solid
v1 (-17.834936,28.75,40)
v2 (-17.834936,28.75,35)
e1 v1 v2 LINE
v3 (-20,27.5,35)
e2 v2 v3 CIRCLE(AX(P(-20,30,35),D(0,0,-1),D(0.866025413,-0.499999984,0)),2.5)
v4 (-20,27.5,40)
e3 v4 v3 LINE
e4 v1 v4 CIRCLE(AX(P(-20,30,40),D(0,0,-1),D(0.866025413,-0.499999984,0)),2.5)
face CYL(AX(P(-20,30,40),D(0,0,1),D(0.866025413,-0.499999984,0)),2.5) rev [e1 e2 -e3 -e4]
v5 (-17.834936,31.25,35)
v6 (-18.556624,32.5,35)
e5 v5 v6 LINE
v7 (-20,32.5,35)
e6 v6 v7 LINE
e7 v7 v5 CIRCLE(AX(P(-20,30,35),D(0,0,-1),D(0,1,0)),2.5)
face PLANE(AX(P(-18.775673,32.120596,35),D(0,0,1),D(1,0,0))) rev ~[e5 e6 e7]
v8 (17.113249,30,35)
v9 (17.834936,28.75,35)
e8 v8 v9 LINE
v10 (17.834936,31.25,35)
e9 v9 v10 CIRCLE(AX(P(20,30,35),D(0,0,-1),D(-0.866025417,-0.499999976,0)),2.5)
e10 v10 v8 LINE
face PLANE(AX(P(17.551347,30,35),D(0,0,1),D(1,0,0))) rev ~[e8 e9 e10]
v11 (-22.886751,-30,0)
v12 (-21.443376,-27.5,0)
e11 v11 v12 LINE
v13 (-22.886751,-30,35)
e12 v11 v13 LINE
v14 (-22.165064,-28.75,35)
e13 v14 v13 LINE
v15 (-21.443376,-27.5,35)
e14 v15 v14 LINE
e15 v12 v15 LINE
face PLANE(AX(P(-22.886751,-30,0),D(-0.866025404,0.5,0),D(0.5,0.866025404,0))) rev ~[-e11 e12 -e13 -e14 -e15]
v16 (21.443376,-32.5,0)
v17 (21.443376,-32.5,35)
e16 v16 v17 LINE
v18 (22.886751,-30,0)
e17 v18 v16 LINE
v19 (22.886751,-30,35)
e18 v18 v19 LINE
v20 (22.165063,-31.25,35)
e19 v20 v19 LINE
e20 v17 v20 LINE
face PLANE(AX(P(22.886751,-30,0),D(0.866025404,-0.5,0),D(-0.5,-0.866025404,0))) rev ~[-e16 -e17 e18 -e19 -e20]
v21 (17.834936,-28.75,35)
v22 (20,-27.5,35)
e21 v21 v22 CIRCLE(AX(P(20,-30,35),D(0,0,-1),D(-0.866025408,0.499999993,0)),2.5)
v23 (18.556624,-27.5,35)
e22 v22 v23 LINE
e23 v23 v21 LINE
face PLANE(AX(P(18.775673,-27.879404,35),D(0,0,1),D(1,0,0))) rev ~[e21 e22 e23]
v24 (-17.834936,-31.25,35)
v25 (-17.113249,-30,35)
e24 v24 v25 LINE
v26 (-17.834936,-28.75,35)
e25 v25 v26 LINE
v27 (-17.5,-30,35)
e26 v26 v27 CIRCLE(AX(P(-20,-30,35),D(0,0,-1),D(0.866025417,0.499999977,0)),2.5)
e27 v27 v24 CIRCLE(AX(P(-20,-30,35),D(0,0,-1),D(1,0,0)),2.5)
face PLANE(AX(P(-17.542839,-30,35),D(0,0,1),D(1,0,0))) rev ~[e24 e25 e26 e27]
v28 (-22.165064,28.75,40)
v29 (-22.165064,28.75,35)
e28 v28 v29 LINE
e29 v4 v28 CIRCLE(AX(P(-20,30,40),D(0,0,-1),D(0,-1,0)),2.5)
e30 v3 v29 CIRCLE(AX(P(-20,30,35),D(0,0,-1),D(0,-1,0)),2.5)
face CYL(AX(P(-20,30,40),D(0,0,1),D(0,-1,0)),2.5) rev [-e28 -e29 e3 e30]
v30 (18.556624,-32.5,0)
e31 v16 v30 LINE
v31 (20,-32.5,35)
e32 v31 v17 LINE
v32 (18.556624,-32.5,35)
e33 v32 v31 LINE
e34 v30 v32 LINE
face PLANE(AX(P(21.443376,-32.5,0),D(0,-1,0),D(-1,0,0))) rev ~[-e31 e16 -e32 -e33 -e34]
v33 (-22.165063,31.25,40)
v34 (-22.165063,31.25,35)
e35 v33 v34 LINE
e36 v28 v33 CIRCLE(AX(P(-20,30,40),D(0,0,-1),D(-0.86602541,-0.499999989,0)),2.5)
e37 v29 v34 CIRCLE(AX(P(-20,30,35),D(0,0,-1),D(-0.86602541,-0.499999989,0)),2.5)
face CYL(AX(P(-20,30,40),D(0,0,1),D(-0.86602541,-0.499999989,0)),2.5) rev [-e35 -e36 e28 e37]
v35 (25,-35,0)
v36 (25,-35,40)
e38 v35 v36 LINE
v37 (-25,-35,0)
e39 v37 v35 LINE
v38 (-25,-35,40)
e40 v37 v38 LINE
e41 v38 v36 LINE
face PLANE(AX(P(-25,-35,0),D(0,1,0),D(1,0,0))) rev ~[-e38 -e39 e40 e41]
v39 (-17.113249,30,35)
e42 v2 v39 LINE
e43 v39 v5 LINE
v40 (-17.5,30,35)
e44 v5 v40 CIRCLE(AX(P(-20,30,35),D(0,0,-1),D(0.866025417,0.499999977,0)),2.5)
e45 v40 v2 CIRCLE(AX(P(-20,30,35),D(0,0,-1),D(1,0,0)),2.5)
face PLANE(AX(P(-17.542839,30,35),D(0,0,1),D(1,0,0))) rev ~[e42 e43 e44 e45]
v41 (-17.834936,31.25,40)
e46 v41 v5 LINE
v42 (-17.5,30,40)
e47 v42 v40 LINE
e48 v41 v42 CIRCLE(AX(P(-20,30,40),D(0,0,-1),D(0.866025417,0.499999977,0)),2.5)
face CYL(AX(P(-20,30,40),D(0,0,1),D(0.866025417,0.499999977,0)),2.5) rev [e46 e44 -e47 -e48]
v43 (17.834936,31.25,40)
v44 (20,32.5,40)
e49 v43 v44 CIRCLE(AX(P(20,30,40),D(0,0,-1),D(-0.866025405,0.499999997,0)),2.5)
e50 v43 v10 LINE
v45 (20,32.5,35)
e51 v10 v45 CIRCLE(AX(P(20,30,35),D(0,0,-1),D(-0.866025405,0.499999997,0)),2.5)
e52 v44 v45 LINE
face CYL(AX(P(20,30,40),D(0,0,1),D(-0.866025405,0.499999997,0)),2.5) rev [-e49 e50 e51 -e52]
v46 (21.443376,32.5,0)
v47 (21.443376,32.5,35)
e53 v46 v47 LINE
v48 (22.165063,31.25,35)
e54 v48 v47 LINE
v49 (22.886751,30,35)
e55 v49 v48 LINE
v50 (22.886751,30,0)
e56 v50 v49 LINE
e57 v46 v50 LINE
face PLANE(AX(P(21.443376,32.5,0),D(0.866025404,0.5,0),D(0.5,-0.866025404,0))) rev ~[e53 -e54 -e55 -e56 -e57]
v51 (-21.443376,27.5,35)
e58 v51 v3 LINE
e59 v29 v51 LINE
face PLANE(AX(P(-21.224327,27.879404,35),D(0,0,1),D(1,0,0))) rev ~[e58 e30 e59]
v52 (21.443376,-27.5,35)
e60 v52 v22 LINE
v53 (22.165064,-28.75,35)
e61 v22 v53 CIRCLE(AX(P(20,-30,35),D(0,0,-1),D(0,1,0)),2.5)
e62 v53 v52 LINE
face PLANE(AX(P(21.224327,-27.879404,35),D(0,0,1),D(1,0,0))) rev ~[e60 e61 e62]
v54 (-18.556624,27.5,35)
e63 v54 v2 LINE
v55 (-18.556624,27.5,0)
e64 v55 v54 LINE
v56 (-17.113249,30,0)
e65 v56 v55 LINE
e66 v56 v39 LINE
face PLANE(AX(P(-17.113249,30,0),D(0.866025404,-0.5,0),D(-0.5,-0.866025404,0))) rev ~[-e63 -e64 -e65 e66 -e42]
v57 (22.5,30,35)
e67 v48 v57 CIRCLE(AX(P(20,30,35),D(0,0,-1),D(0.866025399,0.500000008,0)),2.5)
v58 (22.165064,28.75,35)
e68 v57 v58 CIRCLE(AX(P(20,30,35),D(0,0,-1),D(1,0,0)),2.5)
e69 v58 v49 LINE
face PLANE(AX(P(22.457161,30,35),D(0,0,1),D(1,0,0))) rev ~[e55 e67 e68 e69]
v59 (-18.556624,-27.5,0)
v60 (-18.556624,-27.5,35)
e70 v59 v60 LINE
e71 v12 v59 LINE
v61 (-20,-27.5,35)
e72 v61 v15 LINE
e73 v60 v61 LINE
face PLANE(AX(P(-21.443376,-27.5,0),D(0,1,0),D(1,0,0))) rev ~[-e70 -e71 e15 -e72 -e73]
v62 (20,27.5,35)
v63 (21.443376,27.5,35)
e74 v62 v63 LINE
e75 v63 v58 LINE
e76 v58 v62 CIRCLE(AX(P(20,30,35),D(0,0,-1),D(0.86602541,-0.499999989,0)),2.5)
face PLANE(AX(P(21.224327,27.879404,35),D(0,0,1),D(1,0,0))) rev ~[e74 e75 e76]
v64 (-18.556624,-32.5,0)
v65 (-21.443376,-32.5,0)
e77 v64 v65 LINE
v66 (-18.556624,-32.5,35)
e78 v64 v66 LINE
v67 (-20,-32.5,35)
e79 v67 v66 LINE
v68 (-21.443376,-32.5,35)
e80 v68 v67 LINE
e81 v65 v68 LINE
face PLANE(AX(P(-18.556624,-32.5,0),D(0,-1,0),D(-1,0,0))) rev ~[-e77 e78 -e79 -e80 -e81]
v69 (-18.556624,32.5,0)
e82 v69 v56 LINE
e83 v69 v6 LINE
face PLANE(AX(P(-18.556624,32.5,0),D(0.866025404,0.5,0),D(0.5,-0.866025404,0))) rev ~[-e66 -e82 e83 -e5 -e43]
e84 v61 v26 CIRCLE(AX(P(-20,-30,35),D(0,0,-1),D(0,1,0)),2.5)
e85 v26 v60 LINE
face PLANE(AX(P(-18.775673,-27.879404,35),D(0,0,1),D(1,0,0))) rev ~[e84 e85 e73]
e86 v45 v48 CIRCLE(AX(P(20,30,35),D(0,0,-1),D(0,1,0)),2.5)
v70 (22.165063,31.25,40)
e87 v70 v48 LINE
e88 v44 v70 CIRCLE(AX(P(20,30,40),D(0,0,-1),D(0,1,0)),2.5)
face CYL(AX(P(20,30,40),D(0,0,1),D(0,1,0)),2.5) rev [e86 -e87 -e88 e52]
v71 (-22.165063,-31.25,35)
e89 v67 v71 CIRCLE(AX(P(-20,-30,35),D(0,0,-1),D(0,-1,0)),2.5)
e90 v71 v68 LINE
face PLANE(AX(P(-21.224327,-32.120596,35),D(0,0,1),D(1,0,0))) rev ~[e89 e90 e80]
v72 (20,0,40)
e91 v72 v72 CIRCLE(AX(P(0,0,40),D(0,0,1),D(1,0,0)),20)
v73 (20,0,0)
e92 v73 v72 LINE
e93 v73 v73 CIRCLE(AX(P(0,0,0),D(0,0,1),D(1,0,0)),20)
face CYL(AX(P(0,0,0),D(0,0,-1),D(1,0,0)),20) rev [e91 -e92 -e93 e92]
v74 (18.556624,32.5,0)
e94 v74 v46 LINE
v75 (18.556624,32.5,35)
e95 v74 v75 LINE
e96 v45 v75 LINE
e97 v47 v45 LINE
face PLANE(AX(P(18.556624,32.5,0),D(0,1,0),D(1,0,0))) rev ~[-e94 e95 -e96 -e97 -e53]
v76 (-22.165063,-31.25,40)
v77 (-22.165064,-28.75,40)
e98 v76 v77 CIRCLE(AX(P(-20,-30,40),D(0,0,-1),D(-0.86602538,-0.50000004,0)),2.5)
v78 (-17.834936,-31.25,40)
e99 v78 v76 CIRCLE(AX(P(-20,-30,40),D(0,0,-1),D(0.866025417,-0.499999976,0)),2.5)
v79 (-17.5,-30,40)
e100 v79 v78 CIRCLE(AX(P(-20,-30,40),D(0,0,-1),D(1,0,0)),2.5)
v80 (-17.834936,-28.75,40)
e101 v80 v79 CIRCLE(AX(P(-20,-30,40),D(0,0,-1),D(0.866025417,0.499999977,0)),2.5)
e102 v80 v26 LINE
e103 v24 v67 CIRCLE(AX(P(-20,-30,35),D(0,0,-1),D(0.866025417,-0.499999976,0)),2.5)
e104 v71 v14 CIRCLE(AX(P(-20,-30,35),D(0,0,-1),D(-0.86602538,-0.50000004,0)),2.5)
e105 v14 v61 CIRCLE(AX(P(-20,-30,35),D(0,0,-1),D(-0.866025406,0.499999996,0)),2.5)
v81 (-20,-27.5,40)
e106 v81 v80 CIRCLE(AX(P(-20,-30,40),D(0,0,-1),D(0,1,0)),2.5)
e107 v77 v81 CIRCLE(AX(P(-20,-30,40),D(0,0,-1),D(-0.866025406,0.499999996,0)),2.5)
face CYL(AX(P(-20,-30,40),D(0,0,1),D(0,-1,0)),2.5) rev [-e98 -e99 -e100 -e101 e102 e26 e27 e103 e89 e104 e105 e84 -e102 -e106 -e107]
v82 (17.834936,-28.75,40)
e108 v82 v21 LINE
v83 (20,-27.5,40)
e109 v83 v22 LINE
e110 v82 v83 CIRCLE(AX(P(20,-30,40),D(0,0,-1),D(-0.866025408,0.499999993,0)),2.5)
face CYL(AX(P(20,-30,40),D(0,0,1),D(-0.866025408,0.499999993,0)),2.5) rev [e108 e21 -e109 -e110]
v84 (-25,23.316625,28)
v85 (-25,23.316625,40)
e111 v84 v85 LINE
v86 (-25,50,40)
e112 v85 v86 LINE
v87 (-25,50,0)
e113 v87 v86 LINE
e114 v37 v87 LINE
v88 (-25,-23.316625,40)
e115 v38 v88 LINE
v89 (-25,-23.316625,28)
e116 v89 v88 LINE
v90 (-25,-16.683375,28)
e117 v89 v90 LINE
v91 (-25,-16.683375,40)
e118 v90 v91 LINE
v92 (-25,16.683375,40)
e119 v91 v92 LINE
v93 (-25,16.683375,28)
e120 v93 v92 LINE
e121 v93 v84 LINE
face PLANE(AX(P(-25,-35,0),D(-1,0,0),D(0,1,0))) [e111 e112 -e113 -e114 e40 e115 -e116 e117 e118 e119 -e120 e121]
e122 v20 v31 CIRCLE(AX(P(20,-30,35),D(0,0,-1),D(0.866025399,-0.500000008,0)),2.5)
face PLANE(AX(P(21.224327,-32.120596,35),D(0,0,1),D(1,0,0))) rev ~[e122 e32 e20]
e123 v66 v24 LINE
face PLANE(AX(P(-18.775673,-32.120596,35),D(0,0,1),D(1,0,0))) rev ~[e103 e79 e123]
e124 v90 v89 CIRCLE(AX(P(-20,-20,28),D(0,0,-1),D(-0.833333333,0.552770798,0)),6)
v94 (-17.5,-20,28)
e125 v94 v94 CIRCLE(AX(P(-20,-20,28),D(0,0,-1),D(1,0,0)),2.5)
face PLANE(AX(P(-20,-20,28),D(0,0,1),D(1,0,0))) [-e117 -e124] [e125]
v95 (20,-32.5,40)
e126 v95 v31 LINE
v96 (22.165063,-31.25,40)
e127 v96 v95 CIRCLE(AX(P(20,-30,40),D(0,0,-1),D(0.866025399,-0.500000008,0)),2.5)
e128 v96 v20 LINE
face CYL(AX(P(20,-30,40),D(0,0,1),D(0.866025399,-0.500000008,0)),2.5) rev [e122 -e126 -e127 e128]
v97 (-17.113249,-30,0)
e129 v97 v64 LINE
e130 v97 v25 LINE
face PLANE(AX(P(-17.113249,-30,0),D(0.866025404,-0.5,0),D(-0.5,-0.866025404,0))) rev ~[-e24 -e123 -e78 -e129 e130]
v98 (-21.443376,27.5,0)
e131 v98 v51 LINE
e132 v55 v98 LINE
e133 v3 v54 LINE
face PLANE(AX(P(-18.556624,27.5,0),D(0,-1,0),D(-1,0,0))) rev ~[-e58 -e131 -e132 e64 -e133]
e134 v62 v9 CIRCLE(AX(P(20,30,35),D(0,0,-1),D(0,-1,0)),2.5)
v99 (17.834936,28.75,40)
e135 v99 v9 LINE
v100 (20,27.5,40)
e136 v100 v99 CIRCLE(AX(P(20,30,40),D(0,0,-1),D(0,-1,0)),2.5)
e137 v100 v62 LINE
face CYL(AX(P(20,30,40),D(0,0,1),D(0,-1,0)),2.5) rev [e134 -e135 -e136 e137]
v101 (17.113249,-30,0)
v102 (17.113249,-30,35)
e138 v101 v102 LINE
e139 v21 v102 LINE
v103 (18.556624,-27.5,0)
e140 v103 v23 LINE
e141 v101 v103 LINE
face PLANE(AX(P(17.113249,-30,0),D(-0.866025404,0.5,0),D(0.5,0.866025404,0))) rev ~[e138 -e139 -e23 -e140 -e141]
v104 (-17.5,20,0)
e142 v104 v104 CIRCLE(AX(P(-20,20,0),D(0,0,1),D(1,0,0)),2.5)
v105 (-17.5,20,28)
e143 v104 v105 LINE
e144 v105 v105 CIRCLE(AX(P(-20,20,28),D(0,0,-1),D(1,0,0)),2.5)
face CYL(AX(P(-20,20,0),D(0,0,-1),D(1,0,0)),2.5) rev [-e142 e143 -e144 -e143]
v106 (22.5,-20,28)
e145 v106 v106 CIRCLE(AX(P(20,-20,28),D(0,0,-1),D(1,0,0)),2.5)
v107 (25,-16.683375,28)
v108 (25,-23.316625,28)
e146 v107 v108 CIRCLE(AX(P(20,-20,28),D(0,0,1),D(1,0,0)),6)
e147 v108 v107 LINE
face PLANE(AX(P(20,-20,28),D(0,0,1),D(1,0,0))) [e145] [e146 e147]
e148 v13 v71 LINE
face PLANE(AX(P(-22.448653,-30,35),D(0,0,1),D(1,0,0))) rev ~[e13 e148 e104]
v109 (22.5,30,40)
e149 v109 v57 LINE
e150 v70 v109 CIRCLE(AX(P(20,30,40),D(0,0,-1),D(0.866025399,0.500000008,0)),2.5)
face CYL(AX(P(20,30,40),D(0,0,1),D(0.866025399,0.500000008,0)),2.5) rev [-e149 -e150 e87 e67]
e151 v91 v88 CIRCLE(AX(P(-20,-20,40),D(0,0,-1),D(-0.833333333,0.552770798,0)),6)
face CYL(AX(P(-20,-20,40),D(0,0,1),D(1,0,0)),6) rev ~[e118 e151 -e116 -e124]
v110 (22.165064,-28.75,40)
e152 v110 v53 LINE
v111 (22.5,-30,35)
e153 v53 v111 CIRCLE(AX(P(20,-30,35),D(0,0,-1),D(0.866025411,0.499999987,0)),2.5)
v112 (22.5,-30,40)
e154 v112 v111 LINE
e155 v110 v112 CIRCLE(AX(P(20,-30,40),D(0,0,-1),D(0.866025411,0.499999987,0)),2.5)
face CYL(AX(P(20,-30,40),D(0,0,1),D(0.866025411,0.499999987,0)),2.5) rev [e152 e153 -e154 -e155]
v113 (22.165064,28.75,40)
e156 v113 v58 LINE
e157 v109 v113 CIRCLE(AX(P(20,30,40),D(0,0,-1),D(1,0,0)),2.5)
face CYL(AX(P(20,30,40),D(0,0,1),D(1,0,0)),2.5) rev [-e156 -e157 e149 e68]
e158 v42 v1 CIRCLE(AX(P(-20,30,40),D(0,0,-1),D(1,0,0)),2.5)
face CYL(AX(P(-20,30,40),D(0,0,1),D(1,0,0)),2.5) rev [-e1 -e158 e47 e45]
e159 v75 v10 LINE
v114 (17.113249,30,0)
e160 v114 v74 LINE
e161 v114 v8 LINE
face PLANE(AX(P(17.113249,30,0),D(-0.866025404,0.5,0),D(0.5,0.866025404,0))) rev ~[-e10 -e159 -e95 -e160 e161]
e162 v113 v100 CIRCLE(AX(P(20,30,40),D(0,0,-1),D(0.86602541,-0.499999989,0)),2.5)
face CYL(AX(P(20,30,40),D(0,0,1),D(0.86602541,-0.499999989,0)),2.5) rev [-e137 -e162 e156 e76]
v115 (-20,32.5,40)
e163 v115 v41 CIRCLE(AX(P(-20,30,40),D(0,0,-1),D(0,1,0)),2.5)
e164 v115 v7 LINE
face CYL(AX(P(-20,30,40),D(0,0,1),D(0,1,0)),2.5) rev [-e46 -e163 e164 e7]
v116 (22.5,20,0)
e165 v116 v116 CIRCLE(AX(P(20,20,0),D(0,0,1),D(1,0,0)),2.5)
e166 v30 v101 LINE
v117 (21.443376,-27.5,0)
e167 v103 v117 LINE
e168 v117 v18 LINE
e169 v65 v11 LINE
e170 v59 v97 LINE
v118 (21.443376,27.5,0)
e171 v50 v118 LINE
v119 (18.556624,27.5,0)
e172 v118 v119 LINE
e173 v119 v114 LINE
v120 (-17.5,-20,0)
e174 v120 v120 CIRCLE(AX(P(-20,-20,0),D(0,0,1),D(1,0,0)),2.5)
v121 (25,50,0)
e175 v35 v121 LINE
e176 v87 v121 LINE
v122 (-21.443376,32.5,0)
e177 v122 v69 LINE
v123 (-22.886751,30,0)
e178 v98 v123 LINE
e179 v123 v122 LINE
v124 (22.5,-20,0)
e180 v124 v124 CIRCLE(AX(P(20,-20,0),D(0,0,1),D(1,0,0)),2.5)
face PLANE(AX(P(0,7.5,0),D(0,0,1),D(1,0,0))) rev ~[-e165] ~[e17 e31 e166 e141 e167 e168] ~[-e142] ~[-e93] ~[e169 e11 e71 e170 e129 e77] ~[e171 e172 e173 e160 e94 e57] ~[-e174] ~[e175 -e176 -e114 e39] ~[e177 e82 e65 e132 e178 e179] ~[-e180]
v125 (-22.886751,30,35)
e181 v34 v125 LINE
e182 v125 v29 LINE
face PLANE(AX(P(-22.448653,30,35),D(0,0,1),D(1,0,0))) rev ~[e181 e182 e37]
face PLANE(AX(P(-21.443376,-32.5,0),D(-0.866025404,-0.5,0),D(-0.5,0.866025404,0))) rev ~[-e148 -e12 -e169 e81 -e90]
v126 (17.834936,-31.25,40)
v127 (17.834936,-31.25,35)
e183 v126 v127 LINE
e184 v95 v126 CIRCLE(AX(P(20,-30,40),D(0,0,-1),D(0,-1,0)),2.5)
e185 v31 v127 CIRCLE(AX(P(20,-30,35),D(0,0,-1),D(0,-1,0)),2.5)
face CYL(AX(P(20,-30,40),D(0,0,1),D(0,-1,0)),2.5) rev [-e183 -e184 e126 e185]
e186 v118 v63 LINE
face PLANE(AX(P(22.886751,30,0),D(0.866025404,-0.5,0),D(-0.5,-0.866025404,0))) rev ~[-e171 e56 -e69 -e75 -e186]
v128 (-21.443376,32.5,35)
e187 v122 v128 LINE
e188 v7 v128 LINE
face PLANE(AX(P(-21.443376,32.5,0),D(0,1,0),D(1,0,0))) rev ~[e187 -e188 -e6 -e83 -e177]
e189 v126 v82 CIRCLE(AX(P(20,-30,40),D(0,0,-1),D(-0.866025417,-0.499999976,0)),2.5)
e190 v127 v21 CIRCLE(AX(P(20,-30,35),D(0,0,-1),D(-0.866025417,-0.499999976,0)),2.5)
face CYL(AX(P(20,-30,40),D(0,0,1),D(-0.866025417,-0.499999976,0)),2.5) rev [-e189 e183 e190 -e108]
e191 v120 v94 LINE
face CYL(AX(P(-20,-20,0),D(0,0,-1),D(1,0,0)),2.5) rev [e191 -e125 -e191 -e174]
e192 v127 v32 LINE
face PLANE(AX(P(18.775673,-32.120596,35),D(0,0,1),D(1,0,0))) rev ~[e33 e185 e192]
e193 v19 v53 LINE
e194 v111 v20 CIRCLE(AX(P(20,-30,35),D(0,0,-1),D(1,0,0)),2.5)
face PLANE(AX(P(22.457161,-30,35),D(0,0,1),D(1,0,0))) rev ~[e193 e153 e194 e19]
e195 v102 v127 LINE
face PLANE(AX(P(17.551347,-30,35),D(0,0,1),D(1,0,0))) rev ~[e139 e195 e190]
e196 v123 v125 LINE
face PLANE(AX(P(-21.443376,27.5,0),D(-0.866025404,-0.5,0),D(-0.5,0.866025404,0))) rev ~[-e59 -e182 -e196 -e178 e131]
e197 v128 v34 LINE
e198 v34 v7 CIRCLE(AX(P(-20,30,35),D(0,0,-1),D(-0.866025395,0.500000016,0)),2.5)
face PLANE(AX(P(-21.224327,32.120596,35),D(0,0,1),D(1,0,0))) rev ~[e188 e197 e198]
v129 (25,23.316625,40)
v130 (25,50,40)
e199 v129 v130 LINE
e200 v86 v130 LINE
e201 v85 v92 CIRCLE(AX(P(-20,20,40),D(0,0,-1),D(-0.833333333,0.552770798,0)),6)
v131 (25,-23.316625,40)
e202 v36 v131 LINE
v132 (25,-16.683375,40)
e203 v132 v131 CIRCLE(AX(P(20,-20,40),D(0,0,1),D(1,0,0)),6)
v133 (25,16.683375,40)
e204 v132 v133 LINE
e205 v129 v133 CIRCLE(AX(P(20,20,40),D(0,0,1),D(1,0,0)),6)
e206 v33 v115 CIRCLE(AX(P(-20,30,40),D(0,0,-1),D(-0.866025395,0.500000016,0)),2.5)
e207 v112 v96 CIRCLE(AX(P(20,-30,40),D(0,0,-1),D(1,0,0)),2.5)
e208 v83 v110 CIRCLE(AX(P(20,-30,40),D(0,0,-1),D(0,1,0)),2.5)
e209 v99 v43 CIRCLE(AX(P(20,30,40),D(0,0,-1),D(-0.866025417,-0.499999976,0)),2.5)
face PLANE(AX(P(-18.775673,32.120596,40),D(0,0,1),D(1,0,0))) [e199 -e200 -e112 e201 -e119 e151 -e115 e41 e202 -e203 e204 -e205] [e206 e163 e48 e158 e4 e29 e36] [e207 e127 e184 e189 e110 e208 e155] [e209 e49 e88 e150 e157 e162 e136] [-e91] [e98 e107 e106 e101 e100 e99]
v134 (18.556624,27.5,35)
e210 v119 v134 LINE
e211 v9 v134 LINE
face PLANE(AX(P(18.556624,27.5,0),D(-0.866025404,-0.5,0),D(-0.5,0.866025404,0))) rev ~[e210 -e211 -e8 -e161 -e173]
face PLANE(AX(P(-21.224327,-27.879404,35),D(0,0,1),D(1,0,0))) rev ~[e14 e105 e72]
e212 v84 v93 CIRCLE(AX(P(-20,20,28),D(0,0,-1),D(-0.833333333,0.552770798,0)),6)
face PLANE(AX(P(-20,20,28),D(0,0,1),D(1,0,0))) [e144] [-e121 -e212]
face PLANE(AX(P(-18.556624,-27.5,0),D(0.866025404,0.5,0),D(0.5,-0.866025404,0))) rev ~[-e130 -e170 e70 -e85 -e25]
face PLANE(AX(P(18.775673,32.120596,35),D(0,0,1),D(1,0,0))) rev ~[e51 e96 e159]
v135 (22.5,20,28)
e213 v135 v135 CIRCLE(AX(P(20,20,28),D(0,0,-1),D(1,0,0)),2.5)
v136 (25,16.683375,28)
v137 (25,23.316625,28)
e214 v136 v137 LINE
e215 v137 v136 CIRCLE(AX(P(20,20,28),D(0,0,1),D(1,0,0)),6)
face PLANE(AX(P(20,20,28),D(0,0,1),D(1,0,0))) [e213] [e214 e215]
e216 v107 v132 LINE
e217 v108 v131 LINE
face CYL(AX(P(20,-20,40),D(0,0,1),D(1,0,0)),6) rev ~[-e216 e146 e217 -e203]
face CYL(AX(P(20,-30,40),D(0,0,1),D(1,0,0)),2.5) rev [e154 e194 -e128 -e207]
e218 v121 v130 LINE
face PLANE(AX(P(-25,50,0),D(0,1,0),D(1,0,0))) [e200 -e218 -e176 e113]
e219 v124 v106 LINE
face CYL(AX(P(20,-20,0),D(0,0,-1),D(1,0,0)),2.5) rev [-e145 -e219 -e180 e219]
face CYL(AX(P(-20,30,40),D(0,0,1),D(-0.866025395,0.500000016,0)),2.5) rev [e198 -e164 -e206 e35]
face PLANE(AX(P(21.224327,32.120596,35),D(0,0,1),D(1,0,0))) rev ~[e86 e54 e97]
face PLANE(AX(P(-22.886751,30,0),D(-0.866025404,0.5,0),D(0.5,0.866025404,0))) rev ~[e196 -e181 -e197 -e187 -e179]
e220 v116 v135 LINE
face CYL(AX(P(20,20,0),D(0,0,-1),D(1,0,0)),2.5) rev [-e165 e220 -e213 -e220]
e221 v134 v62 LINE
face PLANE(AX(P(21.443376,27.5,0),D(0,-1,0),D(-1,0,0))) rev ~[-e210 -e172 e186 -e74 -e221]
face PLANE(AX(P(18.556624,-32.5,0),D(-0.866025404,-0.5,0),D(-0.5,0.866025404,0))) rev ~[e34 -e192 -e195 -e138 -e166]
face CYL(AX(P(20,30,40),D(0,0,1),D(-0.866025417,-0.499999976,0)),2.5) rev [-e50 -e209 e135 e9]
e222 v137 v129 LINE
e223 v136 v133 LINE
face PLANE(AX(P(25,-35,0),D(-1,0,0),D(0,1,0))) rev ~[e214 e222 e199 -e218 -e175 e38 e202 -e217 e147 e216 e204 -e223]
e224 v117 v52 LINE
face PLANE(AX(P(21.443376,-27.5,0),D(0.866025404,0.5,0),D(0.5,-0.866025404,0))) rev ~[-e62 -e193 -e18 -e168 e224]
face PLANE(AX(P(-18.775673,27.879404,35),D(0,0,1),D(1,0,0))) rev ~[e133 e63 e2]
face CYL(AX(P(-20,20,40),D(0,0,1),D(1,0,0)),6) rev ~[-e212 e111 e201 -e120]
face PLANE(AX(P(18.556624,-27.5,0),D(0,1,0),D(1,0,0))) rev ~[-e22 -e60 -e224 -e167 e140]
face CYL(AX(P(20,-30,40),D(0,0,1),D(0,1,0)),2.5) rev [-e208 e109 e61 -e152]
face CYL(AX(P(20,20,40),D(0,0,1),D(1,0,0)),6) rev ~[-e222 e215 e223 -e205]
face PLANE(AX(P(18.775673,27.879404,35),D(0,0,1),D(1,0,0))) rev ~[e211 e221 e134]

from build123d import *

# Parameters (mm, degrees)
F0_W     = 50
F0_H     = 85
F0_R     = 2.5
F0_R_2   = 20
F1_DEPTH = 40
F3_DEPTH = 5
F4_R     = 6
F5_DEPTH = 12


with BuildPart() as f1:
    # F0 (on Top) → F1 (new body)
    with BuildSketch(Plane.XY):
        with Locations((0, 7.5)):
            Rectangle(F0_W, F0_H)
        Polygon((-21.443375673, -27.5), (-18.556624327, -27.5), (-17.1132486541, -30), (-18.556624327, -32.5), (-21.443375673, -32.5), (-22.8867513459, -30), align=None, mode=Mode.SUBTRACT)
        with Locations((-20, -20)):
            Circle(F0_R, mode=Mode.SUBTRACT)
        Polygon((18.556624327, -32.5), (17.1132486541, -30), (18.556624327, -27.5), (21.443375673, -27.5), (22.8867513459, -30), (21.443375673, -32.5), align=None, mode=Mode.SUBTRACT)
        with Locations((20, -20)):
            Circle(F0_R, mode=Mode.SUBTRACT)
        Circle(F0_R_2, mode=Mode.SUBTRACT)
        with Locations((-20, 20)):
            Circle(F0_R, mode=Mode.SUBTRACT)
        Polygon((-18.556624327, 27.5), (-21.443375673, 27.5), (-22.8867513459, 30), (-21.443375673, 32.5), (-18.556624327, 32.5), (-17.1132486541, 30), align=None, mode=Mode.SUBTRACT)
        with Locations((20, 20)):
            Circle(F0_R, mode=Mode.SUBTRACT)
        Polygon((21.443375673, 27.5), (18.556624327, 27.5), (17.1132486541, 30), (18.556624327, 32.5), (21.443375673, 32.5), (22.8867513459, 30), align=None, mode=Mode.SUBTRACT)
    extrude(amount=F1_DEPTH)

    # F2 (on face) → F3 (join)
    with BuildSketch(Plane.XY.offset(40)):
        with BuildLine():
            ThreePointArc((-20, 32.5), (-18.7499999704, 32.1650634924), (-17.8349364564, 31.2499999408))
            Line((-17.8349364564, 31.2499999408), (-18.556624327, 32.5))
            Line((-18.556624327, 32.5), (-20, 32.5))
        make_face()
        with BuildLine():
            ThreePointArc((-22.1650634864, 31.25000004), (-21.24999998, 32.165063521), (-20, 32.5))
            Line((-20, 32.5), (-21.443375673, 32.5))
            Line((-21.443375673, 32.5), (-22.1650634864, 31.25000004))
        make_face()
        with BuildLine():
            ThreePointArc((-22.1650635259, 28.7500000285), (-22.5, 30.0000000396), (-22.1650634864, 31.25000004))
            Line((-22.1650634864, 31.25000004), (-22.8867513459, 30))
            Line((-22.8867513459, 30), (-22.1650635259, 28.7500000285))
        make_face()
        with BuildLine():
            Line((-21.443375673, 27.5), (-20, 27.5))
            ThreePointArc((-20, 27.5), (-21.2500000143, 27.8349364988), (-22.1650635259, 28.7500000285))
            Line((-22.1650635259, 28.7500000285), (-21.443375673, 27.5))
        make_face()
        with BuildLine():
            Line((-18.556624327, 27.5), (-17.8349364673, 28.7500000402))
            ThreePointArc((-17.8349364673, 28.7500000402), (-18.7499999799, 27.8349365022), (-20, 27.5))
            Line((-20, 27.5), (-18.556624327, 27.5))
        make_face()
        with BuildLine():
            ThreePointArc((-17.8349364564, 31.2499999408), (-17.5851854254, 30.6470475798), (-17.5, 30))
            ThreePointArc((-17.5, 30), (-17.5851854283, 29.3529524097), (-17.8349364673, 28.7500000402))
            Line((-17.8349364673, 28.7500000402), (-17.1132486541, 30))
            Line((-17.1132486541, 30), (-17.8349364564, 31.2499999408))
        make_face()
        with BuildLine():
            ThreePointArc((17.8349364866, 31.2499999932), (18.7499999966, 32.1650635075), (20, 32.5))
            Line((20, 32.5), (18.556624327, 32.5))
            Line((18.556624327, 32.5), (17.8349364866, 31.2499999932))
        make_face()
        with BuildLine():
            ThreePointArc((20, 32.5), (21.2499999895, 32.1650635155), (22.1650634973, 31.2500000211))
            Line((22.1650634973, 31.2500000211), (21.443375673, 32.5))
            Line((21.443375673, 32.5), (20, 32.5))
        make_face()
        with BuildLine():
            ThreePointArc((22.1650634973, 31.2500000211), (22.4148145626, 30.6470476245), (22.5, 30))
            ThreePointArc((22.5, 30), (22.41481457, 29.3529524032), (22.1650635259, 28.7500000285))
            Line((22.1650635259, 28.7500000285), (22.8867513459, 30))
            Line((22.8867513459, 30), (22.1650634973, 31.2500000211))
        make_face()
        with BuildLine():
            Line((21.443375673, 27.5), (22.1650635259, 28.7500000285))
            ThreePointArc((22.1650635259, 28.7500000285), (21.2500000143, 27.8349364988), (20, 27.5))
            Line((20, 27.5), (21.443375673, 27.5))
        make_face()
        with BuildLine():
            Line((18.556624327, 27.5), (20, 27.5))
            ThreePointArc((20, 27.5), (18.7499999704, 27.8349365076), (17.8349364564, 28.7500000592))
            Line((17.8349364564, 28.7500000592), (18.556624327, 27.5))
        make_face()
        with BuildLine():
            ThreePointArc((17.8349364564, 28.7500000592), (17.5, 30.0000000302), (17.8349364866, 31.2499999932))
            Line((17.8349364866, 31.2499999932), (17.1132486541, 30))
            Line((17.1132486541, 30), (17.8349364564, 28.7500000592))
        make_face()
        with BuildLine():
            Line((18.556624327, -32.5), (20, -32.5))
            ThreePointArc((20, -32.5), (18.7499999704, -32.1650634924), (17.8349364564, -31.2499999408))
            Line((17.8349364564, -31.2499999408), (18.556624327, -32.5))
        make_face()
        with BuildLine():
            Line((21.443375673, -32.5), (22.1650634973, -31.2500000211))
            ThreePointArc((22.1650634973, -31.2500000211), (21.2499999895, -32.1650635155), (20, -32.5))
            Line((20, -32.5), (21.443375673, -32.5))
        make_face()
        with BuildLine():
            ThreePointArc((22.1650635285, -28.750000033), (22.4148145707, -29.3529524056), (22.5, -30))
            ThreePointArc((22.5, -30), (22.4148145626, -30.6470476245), (22.1650634973, -31.2500000211))
            Line((22.1650634973, -31.2500000211), (22.8867513459, -30))
            Line((22.8867513459, -30), (22.1650635285, -28.750000033))
        make_face()
        with BuildLine():
            ThreePointArc((20, -27.5), (21.2500000165, -27.8349365001), (22.1650635285, -28.750000033))
            Line((22.1650635285, -28.750000033), (21.443375673, -27.5))
            Line((21.443375673, -27.5), (20, -27.5))
        make_face()
        with BuildLine():
            ThreePointArc((17.8349364802, -28.7500000179), (18.7499999911, -27.8349364957), (20, -27.5))
            Line((20, -27.5), (18.556624327, -27.5))
            Line((18.556624327, -27.5), (17.8349364802, -28.7500000179))
        make_face()
        with BuildLine():
            ThreePointArc((17.8349364564, -31.2499999408), (17.5, -29.9999999762), (17.8349364802, -28.7500000179))
            Line((17.8349364802, -28.7500000179), (17.1132486541, -30))
            Line((17.1132486541, -30), (17.8349364564, -31.2499999408))
        make_face()
        with BuildLine():
            Line((-18.556624327, -32.5), (-17.8349364564, -31.2499999408))
            ThreePointArc((-17.8349364564, -31.2499999408), (-18.7499999704, -32.1650634924), (-20, -32.5))
            Line((-20, -32.5), (-18.556624327, -32.5))
        make_face()
        with BuildLine():
            Line((-21.443375673, -32.5), (-20, -32.5))
            ThreePointArc((-20, -32.5), (-21.2499999493, -32.1650635387), (-22.165063451, -31.2500001013))
            Line((-22.165063451, -31.2500001013), (-21.443375673, -32.5))
        make_face()
        with BuildLine():
            ThreePointArc((-22.165063451, -31.2500001013), (-22.5, -30.000000064), (-22.165063515, -28.7500000096))
            Line((-22.165063515, -28.7500000096), (-22.8867513459, -30))
            Line((-22.8867513459, -30), (-22.165063451, -31.2500001013))
        make_face()
        with BuildLine():
            ThreePointArc((-22.165063515, -28.7500000096), (-21.2500000048, -27.8349364933), (-20, -27.5))
            Line((-20, -27.5), (-21.443375673, -27.5))
            Line((-21.443375673, -27.5), (-22.165063515, -28.7500000096))
        make_face()
        with BuildLine():
            ThreePointArc((-20, -27.5), (-18.7499999704, -27.8349365076), (-17.8349364564, -28.7500000592))
            Line((-17.8349364564, -28.7500000592), (-18.556624327, -27.5))
            Line((-18.556624327, -27.5), (-20, -27.5))
        make_face()
        with BuildLine():
            ThreePointArc((-17.8349364564, -28.7500000592), (-17.5851854254, -29.3529524202), (-17.5, -30))
            ThreePointArc((-17.5, -30), (-17.5851854254, -30.6470475798), (-17.8349364564, -31.2499999408))
            Line((-17.8349364564, -31.2499999408), (-17.1132486541, -30))
            Line((-17.1132486541, -30), (-17.8349364564, -28.7500000592))
        make_face()
    extrude(amount=-F3_DEPTH)

    # F4 (on face) → F5 (cut)
    with BuildSketch(Plane.XY.offset(40)):
        with Locations((-20, -20)):
            Circle(F4_R)
        with Locations((20, -20)):
            Circle(F4_R)
        with Locations((-20, 20)):
            Circle(F4_R)
        with Locations((20, 20)):
            Circle(F4_R)
    extrude(amount=-F5_DEPTH, mode=Mode.SUBTRACT)


solid = f1.part
